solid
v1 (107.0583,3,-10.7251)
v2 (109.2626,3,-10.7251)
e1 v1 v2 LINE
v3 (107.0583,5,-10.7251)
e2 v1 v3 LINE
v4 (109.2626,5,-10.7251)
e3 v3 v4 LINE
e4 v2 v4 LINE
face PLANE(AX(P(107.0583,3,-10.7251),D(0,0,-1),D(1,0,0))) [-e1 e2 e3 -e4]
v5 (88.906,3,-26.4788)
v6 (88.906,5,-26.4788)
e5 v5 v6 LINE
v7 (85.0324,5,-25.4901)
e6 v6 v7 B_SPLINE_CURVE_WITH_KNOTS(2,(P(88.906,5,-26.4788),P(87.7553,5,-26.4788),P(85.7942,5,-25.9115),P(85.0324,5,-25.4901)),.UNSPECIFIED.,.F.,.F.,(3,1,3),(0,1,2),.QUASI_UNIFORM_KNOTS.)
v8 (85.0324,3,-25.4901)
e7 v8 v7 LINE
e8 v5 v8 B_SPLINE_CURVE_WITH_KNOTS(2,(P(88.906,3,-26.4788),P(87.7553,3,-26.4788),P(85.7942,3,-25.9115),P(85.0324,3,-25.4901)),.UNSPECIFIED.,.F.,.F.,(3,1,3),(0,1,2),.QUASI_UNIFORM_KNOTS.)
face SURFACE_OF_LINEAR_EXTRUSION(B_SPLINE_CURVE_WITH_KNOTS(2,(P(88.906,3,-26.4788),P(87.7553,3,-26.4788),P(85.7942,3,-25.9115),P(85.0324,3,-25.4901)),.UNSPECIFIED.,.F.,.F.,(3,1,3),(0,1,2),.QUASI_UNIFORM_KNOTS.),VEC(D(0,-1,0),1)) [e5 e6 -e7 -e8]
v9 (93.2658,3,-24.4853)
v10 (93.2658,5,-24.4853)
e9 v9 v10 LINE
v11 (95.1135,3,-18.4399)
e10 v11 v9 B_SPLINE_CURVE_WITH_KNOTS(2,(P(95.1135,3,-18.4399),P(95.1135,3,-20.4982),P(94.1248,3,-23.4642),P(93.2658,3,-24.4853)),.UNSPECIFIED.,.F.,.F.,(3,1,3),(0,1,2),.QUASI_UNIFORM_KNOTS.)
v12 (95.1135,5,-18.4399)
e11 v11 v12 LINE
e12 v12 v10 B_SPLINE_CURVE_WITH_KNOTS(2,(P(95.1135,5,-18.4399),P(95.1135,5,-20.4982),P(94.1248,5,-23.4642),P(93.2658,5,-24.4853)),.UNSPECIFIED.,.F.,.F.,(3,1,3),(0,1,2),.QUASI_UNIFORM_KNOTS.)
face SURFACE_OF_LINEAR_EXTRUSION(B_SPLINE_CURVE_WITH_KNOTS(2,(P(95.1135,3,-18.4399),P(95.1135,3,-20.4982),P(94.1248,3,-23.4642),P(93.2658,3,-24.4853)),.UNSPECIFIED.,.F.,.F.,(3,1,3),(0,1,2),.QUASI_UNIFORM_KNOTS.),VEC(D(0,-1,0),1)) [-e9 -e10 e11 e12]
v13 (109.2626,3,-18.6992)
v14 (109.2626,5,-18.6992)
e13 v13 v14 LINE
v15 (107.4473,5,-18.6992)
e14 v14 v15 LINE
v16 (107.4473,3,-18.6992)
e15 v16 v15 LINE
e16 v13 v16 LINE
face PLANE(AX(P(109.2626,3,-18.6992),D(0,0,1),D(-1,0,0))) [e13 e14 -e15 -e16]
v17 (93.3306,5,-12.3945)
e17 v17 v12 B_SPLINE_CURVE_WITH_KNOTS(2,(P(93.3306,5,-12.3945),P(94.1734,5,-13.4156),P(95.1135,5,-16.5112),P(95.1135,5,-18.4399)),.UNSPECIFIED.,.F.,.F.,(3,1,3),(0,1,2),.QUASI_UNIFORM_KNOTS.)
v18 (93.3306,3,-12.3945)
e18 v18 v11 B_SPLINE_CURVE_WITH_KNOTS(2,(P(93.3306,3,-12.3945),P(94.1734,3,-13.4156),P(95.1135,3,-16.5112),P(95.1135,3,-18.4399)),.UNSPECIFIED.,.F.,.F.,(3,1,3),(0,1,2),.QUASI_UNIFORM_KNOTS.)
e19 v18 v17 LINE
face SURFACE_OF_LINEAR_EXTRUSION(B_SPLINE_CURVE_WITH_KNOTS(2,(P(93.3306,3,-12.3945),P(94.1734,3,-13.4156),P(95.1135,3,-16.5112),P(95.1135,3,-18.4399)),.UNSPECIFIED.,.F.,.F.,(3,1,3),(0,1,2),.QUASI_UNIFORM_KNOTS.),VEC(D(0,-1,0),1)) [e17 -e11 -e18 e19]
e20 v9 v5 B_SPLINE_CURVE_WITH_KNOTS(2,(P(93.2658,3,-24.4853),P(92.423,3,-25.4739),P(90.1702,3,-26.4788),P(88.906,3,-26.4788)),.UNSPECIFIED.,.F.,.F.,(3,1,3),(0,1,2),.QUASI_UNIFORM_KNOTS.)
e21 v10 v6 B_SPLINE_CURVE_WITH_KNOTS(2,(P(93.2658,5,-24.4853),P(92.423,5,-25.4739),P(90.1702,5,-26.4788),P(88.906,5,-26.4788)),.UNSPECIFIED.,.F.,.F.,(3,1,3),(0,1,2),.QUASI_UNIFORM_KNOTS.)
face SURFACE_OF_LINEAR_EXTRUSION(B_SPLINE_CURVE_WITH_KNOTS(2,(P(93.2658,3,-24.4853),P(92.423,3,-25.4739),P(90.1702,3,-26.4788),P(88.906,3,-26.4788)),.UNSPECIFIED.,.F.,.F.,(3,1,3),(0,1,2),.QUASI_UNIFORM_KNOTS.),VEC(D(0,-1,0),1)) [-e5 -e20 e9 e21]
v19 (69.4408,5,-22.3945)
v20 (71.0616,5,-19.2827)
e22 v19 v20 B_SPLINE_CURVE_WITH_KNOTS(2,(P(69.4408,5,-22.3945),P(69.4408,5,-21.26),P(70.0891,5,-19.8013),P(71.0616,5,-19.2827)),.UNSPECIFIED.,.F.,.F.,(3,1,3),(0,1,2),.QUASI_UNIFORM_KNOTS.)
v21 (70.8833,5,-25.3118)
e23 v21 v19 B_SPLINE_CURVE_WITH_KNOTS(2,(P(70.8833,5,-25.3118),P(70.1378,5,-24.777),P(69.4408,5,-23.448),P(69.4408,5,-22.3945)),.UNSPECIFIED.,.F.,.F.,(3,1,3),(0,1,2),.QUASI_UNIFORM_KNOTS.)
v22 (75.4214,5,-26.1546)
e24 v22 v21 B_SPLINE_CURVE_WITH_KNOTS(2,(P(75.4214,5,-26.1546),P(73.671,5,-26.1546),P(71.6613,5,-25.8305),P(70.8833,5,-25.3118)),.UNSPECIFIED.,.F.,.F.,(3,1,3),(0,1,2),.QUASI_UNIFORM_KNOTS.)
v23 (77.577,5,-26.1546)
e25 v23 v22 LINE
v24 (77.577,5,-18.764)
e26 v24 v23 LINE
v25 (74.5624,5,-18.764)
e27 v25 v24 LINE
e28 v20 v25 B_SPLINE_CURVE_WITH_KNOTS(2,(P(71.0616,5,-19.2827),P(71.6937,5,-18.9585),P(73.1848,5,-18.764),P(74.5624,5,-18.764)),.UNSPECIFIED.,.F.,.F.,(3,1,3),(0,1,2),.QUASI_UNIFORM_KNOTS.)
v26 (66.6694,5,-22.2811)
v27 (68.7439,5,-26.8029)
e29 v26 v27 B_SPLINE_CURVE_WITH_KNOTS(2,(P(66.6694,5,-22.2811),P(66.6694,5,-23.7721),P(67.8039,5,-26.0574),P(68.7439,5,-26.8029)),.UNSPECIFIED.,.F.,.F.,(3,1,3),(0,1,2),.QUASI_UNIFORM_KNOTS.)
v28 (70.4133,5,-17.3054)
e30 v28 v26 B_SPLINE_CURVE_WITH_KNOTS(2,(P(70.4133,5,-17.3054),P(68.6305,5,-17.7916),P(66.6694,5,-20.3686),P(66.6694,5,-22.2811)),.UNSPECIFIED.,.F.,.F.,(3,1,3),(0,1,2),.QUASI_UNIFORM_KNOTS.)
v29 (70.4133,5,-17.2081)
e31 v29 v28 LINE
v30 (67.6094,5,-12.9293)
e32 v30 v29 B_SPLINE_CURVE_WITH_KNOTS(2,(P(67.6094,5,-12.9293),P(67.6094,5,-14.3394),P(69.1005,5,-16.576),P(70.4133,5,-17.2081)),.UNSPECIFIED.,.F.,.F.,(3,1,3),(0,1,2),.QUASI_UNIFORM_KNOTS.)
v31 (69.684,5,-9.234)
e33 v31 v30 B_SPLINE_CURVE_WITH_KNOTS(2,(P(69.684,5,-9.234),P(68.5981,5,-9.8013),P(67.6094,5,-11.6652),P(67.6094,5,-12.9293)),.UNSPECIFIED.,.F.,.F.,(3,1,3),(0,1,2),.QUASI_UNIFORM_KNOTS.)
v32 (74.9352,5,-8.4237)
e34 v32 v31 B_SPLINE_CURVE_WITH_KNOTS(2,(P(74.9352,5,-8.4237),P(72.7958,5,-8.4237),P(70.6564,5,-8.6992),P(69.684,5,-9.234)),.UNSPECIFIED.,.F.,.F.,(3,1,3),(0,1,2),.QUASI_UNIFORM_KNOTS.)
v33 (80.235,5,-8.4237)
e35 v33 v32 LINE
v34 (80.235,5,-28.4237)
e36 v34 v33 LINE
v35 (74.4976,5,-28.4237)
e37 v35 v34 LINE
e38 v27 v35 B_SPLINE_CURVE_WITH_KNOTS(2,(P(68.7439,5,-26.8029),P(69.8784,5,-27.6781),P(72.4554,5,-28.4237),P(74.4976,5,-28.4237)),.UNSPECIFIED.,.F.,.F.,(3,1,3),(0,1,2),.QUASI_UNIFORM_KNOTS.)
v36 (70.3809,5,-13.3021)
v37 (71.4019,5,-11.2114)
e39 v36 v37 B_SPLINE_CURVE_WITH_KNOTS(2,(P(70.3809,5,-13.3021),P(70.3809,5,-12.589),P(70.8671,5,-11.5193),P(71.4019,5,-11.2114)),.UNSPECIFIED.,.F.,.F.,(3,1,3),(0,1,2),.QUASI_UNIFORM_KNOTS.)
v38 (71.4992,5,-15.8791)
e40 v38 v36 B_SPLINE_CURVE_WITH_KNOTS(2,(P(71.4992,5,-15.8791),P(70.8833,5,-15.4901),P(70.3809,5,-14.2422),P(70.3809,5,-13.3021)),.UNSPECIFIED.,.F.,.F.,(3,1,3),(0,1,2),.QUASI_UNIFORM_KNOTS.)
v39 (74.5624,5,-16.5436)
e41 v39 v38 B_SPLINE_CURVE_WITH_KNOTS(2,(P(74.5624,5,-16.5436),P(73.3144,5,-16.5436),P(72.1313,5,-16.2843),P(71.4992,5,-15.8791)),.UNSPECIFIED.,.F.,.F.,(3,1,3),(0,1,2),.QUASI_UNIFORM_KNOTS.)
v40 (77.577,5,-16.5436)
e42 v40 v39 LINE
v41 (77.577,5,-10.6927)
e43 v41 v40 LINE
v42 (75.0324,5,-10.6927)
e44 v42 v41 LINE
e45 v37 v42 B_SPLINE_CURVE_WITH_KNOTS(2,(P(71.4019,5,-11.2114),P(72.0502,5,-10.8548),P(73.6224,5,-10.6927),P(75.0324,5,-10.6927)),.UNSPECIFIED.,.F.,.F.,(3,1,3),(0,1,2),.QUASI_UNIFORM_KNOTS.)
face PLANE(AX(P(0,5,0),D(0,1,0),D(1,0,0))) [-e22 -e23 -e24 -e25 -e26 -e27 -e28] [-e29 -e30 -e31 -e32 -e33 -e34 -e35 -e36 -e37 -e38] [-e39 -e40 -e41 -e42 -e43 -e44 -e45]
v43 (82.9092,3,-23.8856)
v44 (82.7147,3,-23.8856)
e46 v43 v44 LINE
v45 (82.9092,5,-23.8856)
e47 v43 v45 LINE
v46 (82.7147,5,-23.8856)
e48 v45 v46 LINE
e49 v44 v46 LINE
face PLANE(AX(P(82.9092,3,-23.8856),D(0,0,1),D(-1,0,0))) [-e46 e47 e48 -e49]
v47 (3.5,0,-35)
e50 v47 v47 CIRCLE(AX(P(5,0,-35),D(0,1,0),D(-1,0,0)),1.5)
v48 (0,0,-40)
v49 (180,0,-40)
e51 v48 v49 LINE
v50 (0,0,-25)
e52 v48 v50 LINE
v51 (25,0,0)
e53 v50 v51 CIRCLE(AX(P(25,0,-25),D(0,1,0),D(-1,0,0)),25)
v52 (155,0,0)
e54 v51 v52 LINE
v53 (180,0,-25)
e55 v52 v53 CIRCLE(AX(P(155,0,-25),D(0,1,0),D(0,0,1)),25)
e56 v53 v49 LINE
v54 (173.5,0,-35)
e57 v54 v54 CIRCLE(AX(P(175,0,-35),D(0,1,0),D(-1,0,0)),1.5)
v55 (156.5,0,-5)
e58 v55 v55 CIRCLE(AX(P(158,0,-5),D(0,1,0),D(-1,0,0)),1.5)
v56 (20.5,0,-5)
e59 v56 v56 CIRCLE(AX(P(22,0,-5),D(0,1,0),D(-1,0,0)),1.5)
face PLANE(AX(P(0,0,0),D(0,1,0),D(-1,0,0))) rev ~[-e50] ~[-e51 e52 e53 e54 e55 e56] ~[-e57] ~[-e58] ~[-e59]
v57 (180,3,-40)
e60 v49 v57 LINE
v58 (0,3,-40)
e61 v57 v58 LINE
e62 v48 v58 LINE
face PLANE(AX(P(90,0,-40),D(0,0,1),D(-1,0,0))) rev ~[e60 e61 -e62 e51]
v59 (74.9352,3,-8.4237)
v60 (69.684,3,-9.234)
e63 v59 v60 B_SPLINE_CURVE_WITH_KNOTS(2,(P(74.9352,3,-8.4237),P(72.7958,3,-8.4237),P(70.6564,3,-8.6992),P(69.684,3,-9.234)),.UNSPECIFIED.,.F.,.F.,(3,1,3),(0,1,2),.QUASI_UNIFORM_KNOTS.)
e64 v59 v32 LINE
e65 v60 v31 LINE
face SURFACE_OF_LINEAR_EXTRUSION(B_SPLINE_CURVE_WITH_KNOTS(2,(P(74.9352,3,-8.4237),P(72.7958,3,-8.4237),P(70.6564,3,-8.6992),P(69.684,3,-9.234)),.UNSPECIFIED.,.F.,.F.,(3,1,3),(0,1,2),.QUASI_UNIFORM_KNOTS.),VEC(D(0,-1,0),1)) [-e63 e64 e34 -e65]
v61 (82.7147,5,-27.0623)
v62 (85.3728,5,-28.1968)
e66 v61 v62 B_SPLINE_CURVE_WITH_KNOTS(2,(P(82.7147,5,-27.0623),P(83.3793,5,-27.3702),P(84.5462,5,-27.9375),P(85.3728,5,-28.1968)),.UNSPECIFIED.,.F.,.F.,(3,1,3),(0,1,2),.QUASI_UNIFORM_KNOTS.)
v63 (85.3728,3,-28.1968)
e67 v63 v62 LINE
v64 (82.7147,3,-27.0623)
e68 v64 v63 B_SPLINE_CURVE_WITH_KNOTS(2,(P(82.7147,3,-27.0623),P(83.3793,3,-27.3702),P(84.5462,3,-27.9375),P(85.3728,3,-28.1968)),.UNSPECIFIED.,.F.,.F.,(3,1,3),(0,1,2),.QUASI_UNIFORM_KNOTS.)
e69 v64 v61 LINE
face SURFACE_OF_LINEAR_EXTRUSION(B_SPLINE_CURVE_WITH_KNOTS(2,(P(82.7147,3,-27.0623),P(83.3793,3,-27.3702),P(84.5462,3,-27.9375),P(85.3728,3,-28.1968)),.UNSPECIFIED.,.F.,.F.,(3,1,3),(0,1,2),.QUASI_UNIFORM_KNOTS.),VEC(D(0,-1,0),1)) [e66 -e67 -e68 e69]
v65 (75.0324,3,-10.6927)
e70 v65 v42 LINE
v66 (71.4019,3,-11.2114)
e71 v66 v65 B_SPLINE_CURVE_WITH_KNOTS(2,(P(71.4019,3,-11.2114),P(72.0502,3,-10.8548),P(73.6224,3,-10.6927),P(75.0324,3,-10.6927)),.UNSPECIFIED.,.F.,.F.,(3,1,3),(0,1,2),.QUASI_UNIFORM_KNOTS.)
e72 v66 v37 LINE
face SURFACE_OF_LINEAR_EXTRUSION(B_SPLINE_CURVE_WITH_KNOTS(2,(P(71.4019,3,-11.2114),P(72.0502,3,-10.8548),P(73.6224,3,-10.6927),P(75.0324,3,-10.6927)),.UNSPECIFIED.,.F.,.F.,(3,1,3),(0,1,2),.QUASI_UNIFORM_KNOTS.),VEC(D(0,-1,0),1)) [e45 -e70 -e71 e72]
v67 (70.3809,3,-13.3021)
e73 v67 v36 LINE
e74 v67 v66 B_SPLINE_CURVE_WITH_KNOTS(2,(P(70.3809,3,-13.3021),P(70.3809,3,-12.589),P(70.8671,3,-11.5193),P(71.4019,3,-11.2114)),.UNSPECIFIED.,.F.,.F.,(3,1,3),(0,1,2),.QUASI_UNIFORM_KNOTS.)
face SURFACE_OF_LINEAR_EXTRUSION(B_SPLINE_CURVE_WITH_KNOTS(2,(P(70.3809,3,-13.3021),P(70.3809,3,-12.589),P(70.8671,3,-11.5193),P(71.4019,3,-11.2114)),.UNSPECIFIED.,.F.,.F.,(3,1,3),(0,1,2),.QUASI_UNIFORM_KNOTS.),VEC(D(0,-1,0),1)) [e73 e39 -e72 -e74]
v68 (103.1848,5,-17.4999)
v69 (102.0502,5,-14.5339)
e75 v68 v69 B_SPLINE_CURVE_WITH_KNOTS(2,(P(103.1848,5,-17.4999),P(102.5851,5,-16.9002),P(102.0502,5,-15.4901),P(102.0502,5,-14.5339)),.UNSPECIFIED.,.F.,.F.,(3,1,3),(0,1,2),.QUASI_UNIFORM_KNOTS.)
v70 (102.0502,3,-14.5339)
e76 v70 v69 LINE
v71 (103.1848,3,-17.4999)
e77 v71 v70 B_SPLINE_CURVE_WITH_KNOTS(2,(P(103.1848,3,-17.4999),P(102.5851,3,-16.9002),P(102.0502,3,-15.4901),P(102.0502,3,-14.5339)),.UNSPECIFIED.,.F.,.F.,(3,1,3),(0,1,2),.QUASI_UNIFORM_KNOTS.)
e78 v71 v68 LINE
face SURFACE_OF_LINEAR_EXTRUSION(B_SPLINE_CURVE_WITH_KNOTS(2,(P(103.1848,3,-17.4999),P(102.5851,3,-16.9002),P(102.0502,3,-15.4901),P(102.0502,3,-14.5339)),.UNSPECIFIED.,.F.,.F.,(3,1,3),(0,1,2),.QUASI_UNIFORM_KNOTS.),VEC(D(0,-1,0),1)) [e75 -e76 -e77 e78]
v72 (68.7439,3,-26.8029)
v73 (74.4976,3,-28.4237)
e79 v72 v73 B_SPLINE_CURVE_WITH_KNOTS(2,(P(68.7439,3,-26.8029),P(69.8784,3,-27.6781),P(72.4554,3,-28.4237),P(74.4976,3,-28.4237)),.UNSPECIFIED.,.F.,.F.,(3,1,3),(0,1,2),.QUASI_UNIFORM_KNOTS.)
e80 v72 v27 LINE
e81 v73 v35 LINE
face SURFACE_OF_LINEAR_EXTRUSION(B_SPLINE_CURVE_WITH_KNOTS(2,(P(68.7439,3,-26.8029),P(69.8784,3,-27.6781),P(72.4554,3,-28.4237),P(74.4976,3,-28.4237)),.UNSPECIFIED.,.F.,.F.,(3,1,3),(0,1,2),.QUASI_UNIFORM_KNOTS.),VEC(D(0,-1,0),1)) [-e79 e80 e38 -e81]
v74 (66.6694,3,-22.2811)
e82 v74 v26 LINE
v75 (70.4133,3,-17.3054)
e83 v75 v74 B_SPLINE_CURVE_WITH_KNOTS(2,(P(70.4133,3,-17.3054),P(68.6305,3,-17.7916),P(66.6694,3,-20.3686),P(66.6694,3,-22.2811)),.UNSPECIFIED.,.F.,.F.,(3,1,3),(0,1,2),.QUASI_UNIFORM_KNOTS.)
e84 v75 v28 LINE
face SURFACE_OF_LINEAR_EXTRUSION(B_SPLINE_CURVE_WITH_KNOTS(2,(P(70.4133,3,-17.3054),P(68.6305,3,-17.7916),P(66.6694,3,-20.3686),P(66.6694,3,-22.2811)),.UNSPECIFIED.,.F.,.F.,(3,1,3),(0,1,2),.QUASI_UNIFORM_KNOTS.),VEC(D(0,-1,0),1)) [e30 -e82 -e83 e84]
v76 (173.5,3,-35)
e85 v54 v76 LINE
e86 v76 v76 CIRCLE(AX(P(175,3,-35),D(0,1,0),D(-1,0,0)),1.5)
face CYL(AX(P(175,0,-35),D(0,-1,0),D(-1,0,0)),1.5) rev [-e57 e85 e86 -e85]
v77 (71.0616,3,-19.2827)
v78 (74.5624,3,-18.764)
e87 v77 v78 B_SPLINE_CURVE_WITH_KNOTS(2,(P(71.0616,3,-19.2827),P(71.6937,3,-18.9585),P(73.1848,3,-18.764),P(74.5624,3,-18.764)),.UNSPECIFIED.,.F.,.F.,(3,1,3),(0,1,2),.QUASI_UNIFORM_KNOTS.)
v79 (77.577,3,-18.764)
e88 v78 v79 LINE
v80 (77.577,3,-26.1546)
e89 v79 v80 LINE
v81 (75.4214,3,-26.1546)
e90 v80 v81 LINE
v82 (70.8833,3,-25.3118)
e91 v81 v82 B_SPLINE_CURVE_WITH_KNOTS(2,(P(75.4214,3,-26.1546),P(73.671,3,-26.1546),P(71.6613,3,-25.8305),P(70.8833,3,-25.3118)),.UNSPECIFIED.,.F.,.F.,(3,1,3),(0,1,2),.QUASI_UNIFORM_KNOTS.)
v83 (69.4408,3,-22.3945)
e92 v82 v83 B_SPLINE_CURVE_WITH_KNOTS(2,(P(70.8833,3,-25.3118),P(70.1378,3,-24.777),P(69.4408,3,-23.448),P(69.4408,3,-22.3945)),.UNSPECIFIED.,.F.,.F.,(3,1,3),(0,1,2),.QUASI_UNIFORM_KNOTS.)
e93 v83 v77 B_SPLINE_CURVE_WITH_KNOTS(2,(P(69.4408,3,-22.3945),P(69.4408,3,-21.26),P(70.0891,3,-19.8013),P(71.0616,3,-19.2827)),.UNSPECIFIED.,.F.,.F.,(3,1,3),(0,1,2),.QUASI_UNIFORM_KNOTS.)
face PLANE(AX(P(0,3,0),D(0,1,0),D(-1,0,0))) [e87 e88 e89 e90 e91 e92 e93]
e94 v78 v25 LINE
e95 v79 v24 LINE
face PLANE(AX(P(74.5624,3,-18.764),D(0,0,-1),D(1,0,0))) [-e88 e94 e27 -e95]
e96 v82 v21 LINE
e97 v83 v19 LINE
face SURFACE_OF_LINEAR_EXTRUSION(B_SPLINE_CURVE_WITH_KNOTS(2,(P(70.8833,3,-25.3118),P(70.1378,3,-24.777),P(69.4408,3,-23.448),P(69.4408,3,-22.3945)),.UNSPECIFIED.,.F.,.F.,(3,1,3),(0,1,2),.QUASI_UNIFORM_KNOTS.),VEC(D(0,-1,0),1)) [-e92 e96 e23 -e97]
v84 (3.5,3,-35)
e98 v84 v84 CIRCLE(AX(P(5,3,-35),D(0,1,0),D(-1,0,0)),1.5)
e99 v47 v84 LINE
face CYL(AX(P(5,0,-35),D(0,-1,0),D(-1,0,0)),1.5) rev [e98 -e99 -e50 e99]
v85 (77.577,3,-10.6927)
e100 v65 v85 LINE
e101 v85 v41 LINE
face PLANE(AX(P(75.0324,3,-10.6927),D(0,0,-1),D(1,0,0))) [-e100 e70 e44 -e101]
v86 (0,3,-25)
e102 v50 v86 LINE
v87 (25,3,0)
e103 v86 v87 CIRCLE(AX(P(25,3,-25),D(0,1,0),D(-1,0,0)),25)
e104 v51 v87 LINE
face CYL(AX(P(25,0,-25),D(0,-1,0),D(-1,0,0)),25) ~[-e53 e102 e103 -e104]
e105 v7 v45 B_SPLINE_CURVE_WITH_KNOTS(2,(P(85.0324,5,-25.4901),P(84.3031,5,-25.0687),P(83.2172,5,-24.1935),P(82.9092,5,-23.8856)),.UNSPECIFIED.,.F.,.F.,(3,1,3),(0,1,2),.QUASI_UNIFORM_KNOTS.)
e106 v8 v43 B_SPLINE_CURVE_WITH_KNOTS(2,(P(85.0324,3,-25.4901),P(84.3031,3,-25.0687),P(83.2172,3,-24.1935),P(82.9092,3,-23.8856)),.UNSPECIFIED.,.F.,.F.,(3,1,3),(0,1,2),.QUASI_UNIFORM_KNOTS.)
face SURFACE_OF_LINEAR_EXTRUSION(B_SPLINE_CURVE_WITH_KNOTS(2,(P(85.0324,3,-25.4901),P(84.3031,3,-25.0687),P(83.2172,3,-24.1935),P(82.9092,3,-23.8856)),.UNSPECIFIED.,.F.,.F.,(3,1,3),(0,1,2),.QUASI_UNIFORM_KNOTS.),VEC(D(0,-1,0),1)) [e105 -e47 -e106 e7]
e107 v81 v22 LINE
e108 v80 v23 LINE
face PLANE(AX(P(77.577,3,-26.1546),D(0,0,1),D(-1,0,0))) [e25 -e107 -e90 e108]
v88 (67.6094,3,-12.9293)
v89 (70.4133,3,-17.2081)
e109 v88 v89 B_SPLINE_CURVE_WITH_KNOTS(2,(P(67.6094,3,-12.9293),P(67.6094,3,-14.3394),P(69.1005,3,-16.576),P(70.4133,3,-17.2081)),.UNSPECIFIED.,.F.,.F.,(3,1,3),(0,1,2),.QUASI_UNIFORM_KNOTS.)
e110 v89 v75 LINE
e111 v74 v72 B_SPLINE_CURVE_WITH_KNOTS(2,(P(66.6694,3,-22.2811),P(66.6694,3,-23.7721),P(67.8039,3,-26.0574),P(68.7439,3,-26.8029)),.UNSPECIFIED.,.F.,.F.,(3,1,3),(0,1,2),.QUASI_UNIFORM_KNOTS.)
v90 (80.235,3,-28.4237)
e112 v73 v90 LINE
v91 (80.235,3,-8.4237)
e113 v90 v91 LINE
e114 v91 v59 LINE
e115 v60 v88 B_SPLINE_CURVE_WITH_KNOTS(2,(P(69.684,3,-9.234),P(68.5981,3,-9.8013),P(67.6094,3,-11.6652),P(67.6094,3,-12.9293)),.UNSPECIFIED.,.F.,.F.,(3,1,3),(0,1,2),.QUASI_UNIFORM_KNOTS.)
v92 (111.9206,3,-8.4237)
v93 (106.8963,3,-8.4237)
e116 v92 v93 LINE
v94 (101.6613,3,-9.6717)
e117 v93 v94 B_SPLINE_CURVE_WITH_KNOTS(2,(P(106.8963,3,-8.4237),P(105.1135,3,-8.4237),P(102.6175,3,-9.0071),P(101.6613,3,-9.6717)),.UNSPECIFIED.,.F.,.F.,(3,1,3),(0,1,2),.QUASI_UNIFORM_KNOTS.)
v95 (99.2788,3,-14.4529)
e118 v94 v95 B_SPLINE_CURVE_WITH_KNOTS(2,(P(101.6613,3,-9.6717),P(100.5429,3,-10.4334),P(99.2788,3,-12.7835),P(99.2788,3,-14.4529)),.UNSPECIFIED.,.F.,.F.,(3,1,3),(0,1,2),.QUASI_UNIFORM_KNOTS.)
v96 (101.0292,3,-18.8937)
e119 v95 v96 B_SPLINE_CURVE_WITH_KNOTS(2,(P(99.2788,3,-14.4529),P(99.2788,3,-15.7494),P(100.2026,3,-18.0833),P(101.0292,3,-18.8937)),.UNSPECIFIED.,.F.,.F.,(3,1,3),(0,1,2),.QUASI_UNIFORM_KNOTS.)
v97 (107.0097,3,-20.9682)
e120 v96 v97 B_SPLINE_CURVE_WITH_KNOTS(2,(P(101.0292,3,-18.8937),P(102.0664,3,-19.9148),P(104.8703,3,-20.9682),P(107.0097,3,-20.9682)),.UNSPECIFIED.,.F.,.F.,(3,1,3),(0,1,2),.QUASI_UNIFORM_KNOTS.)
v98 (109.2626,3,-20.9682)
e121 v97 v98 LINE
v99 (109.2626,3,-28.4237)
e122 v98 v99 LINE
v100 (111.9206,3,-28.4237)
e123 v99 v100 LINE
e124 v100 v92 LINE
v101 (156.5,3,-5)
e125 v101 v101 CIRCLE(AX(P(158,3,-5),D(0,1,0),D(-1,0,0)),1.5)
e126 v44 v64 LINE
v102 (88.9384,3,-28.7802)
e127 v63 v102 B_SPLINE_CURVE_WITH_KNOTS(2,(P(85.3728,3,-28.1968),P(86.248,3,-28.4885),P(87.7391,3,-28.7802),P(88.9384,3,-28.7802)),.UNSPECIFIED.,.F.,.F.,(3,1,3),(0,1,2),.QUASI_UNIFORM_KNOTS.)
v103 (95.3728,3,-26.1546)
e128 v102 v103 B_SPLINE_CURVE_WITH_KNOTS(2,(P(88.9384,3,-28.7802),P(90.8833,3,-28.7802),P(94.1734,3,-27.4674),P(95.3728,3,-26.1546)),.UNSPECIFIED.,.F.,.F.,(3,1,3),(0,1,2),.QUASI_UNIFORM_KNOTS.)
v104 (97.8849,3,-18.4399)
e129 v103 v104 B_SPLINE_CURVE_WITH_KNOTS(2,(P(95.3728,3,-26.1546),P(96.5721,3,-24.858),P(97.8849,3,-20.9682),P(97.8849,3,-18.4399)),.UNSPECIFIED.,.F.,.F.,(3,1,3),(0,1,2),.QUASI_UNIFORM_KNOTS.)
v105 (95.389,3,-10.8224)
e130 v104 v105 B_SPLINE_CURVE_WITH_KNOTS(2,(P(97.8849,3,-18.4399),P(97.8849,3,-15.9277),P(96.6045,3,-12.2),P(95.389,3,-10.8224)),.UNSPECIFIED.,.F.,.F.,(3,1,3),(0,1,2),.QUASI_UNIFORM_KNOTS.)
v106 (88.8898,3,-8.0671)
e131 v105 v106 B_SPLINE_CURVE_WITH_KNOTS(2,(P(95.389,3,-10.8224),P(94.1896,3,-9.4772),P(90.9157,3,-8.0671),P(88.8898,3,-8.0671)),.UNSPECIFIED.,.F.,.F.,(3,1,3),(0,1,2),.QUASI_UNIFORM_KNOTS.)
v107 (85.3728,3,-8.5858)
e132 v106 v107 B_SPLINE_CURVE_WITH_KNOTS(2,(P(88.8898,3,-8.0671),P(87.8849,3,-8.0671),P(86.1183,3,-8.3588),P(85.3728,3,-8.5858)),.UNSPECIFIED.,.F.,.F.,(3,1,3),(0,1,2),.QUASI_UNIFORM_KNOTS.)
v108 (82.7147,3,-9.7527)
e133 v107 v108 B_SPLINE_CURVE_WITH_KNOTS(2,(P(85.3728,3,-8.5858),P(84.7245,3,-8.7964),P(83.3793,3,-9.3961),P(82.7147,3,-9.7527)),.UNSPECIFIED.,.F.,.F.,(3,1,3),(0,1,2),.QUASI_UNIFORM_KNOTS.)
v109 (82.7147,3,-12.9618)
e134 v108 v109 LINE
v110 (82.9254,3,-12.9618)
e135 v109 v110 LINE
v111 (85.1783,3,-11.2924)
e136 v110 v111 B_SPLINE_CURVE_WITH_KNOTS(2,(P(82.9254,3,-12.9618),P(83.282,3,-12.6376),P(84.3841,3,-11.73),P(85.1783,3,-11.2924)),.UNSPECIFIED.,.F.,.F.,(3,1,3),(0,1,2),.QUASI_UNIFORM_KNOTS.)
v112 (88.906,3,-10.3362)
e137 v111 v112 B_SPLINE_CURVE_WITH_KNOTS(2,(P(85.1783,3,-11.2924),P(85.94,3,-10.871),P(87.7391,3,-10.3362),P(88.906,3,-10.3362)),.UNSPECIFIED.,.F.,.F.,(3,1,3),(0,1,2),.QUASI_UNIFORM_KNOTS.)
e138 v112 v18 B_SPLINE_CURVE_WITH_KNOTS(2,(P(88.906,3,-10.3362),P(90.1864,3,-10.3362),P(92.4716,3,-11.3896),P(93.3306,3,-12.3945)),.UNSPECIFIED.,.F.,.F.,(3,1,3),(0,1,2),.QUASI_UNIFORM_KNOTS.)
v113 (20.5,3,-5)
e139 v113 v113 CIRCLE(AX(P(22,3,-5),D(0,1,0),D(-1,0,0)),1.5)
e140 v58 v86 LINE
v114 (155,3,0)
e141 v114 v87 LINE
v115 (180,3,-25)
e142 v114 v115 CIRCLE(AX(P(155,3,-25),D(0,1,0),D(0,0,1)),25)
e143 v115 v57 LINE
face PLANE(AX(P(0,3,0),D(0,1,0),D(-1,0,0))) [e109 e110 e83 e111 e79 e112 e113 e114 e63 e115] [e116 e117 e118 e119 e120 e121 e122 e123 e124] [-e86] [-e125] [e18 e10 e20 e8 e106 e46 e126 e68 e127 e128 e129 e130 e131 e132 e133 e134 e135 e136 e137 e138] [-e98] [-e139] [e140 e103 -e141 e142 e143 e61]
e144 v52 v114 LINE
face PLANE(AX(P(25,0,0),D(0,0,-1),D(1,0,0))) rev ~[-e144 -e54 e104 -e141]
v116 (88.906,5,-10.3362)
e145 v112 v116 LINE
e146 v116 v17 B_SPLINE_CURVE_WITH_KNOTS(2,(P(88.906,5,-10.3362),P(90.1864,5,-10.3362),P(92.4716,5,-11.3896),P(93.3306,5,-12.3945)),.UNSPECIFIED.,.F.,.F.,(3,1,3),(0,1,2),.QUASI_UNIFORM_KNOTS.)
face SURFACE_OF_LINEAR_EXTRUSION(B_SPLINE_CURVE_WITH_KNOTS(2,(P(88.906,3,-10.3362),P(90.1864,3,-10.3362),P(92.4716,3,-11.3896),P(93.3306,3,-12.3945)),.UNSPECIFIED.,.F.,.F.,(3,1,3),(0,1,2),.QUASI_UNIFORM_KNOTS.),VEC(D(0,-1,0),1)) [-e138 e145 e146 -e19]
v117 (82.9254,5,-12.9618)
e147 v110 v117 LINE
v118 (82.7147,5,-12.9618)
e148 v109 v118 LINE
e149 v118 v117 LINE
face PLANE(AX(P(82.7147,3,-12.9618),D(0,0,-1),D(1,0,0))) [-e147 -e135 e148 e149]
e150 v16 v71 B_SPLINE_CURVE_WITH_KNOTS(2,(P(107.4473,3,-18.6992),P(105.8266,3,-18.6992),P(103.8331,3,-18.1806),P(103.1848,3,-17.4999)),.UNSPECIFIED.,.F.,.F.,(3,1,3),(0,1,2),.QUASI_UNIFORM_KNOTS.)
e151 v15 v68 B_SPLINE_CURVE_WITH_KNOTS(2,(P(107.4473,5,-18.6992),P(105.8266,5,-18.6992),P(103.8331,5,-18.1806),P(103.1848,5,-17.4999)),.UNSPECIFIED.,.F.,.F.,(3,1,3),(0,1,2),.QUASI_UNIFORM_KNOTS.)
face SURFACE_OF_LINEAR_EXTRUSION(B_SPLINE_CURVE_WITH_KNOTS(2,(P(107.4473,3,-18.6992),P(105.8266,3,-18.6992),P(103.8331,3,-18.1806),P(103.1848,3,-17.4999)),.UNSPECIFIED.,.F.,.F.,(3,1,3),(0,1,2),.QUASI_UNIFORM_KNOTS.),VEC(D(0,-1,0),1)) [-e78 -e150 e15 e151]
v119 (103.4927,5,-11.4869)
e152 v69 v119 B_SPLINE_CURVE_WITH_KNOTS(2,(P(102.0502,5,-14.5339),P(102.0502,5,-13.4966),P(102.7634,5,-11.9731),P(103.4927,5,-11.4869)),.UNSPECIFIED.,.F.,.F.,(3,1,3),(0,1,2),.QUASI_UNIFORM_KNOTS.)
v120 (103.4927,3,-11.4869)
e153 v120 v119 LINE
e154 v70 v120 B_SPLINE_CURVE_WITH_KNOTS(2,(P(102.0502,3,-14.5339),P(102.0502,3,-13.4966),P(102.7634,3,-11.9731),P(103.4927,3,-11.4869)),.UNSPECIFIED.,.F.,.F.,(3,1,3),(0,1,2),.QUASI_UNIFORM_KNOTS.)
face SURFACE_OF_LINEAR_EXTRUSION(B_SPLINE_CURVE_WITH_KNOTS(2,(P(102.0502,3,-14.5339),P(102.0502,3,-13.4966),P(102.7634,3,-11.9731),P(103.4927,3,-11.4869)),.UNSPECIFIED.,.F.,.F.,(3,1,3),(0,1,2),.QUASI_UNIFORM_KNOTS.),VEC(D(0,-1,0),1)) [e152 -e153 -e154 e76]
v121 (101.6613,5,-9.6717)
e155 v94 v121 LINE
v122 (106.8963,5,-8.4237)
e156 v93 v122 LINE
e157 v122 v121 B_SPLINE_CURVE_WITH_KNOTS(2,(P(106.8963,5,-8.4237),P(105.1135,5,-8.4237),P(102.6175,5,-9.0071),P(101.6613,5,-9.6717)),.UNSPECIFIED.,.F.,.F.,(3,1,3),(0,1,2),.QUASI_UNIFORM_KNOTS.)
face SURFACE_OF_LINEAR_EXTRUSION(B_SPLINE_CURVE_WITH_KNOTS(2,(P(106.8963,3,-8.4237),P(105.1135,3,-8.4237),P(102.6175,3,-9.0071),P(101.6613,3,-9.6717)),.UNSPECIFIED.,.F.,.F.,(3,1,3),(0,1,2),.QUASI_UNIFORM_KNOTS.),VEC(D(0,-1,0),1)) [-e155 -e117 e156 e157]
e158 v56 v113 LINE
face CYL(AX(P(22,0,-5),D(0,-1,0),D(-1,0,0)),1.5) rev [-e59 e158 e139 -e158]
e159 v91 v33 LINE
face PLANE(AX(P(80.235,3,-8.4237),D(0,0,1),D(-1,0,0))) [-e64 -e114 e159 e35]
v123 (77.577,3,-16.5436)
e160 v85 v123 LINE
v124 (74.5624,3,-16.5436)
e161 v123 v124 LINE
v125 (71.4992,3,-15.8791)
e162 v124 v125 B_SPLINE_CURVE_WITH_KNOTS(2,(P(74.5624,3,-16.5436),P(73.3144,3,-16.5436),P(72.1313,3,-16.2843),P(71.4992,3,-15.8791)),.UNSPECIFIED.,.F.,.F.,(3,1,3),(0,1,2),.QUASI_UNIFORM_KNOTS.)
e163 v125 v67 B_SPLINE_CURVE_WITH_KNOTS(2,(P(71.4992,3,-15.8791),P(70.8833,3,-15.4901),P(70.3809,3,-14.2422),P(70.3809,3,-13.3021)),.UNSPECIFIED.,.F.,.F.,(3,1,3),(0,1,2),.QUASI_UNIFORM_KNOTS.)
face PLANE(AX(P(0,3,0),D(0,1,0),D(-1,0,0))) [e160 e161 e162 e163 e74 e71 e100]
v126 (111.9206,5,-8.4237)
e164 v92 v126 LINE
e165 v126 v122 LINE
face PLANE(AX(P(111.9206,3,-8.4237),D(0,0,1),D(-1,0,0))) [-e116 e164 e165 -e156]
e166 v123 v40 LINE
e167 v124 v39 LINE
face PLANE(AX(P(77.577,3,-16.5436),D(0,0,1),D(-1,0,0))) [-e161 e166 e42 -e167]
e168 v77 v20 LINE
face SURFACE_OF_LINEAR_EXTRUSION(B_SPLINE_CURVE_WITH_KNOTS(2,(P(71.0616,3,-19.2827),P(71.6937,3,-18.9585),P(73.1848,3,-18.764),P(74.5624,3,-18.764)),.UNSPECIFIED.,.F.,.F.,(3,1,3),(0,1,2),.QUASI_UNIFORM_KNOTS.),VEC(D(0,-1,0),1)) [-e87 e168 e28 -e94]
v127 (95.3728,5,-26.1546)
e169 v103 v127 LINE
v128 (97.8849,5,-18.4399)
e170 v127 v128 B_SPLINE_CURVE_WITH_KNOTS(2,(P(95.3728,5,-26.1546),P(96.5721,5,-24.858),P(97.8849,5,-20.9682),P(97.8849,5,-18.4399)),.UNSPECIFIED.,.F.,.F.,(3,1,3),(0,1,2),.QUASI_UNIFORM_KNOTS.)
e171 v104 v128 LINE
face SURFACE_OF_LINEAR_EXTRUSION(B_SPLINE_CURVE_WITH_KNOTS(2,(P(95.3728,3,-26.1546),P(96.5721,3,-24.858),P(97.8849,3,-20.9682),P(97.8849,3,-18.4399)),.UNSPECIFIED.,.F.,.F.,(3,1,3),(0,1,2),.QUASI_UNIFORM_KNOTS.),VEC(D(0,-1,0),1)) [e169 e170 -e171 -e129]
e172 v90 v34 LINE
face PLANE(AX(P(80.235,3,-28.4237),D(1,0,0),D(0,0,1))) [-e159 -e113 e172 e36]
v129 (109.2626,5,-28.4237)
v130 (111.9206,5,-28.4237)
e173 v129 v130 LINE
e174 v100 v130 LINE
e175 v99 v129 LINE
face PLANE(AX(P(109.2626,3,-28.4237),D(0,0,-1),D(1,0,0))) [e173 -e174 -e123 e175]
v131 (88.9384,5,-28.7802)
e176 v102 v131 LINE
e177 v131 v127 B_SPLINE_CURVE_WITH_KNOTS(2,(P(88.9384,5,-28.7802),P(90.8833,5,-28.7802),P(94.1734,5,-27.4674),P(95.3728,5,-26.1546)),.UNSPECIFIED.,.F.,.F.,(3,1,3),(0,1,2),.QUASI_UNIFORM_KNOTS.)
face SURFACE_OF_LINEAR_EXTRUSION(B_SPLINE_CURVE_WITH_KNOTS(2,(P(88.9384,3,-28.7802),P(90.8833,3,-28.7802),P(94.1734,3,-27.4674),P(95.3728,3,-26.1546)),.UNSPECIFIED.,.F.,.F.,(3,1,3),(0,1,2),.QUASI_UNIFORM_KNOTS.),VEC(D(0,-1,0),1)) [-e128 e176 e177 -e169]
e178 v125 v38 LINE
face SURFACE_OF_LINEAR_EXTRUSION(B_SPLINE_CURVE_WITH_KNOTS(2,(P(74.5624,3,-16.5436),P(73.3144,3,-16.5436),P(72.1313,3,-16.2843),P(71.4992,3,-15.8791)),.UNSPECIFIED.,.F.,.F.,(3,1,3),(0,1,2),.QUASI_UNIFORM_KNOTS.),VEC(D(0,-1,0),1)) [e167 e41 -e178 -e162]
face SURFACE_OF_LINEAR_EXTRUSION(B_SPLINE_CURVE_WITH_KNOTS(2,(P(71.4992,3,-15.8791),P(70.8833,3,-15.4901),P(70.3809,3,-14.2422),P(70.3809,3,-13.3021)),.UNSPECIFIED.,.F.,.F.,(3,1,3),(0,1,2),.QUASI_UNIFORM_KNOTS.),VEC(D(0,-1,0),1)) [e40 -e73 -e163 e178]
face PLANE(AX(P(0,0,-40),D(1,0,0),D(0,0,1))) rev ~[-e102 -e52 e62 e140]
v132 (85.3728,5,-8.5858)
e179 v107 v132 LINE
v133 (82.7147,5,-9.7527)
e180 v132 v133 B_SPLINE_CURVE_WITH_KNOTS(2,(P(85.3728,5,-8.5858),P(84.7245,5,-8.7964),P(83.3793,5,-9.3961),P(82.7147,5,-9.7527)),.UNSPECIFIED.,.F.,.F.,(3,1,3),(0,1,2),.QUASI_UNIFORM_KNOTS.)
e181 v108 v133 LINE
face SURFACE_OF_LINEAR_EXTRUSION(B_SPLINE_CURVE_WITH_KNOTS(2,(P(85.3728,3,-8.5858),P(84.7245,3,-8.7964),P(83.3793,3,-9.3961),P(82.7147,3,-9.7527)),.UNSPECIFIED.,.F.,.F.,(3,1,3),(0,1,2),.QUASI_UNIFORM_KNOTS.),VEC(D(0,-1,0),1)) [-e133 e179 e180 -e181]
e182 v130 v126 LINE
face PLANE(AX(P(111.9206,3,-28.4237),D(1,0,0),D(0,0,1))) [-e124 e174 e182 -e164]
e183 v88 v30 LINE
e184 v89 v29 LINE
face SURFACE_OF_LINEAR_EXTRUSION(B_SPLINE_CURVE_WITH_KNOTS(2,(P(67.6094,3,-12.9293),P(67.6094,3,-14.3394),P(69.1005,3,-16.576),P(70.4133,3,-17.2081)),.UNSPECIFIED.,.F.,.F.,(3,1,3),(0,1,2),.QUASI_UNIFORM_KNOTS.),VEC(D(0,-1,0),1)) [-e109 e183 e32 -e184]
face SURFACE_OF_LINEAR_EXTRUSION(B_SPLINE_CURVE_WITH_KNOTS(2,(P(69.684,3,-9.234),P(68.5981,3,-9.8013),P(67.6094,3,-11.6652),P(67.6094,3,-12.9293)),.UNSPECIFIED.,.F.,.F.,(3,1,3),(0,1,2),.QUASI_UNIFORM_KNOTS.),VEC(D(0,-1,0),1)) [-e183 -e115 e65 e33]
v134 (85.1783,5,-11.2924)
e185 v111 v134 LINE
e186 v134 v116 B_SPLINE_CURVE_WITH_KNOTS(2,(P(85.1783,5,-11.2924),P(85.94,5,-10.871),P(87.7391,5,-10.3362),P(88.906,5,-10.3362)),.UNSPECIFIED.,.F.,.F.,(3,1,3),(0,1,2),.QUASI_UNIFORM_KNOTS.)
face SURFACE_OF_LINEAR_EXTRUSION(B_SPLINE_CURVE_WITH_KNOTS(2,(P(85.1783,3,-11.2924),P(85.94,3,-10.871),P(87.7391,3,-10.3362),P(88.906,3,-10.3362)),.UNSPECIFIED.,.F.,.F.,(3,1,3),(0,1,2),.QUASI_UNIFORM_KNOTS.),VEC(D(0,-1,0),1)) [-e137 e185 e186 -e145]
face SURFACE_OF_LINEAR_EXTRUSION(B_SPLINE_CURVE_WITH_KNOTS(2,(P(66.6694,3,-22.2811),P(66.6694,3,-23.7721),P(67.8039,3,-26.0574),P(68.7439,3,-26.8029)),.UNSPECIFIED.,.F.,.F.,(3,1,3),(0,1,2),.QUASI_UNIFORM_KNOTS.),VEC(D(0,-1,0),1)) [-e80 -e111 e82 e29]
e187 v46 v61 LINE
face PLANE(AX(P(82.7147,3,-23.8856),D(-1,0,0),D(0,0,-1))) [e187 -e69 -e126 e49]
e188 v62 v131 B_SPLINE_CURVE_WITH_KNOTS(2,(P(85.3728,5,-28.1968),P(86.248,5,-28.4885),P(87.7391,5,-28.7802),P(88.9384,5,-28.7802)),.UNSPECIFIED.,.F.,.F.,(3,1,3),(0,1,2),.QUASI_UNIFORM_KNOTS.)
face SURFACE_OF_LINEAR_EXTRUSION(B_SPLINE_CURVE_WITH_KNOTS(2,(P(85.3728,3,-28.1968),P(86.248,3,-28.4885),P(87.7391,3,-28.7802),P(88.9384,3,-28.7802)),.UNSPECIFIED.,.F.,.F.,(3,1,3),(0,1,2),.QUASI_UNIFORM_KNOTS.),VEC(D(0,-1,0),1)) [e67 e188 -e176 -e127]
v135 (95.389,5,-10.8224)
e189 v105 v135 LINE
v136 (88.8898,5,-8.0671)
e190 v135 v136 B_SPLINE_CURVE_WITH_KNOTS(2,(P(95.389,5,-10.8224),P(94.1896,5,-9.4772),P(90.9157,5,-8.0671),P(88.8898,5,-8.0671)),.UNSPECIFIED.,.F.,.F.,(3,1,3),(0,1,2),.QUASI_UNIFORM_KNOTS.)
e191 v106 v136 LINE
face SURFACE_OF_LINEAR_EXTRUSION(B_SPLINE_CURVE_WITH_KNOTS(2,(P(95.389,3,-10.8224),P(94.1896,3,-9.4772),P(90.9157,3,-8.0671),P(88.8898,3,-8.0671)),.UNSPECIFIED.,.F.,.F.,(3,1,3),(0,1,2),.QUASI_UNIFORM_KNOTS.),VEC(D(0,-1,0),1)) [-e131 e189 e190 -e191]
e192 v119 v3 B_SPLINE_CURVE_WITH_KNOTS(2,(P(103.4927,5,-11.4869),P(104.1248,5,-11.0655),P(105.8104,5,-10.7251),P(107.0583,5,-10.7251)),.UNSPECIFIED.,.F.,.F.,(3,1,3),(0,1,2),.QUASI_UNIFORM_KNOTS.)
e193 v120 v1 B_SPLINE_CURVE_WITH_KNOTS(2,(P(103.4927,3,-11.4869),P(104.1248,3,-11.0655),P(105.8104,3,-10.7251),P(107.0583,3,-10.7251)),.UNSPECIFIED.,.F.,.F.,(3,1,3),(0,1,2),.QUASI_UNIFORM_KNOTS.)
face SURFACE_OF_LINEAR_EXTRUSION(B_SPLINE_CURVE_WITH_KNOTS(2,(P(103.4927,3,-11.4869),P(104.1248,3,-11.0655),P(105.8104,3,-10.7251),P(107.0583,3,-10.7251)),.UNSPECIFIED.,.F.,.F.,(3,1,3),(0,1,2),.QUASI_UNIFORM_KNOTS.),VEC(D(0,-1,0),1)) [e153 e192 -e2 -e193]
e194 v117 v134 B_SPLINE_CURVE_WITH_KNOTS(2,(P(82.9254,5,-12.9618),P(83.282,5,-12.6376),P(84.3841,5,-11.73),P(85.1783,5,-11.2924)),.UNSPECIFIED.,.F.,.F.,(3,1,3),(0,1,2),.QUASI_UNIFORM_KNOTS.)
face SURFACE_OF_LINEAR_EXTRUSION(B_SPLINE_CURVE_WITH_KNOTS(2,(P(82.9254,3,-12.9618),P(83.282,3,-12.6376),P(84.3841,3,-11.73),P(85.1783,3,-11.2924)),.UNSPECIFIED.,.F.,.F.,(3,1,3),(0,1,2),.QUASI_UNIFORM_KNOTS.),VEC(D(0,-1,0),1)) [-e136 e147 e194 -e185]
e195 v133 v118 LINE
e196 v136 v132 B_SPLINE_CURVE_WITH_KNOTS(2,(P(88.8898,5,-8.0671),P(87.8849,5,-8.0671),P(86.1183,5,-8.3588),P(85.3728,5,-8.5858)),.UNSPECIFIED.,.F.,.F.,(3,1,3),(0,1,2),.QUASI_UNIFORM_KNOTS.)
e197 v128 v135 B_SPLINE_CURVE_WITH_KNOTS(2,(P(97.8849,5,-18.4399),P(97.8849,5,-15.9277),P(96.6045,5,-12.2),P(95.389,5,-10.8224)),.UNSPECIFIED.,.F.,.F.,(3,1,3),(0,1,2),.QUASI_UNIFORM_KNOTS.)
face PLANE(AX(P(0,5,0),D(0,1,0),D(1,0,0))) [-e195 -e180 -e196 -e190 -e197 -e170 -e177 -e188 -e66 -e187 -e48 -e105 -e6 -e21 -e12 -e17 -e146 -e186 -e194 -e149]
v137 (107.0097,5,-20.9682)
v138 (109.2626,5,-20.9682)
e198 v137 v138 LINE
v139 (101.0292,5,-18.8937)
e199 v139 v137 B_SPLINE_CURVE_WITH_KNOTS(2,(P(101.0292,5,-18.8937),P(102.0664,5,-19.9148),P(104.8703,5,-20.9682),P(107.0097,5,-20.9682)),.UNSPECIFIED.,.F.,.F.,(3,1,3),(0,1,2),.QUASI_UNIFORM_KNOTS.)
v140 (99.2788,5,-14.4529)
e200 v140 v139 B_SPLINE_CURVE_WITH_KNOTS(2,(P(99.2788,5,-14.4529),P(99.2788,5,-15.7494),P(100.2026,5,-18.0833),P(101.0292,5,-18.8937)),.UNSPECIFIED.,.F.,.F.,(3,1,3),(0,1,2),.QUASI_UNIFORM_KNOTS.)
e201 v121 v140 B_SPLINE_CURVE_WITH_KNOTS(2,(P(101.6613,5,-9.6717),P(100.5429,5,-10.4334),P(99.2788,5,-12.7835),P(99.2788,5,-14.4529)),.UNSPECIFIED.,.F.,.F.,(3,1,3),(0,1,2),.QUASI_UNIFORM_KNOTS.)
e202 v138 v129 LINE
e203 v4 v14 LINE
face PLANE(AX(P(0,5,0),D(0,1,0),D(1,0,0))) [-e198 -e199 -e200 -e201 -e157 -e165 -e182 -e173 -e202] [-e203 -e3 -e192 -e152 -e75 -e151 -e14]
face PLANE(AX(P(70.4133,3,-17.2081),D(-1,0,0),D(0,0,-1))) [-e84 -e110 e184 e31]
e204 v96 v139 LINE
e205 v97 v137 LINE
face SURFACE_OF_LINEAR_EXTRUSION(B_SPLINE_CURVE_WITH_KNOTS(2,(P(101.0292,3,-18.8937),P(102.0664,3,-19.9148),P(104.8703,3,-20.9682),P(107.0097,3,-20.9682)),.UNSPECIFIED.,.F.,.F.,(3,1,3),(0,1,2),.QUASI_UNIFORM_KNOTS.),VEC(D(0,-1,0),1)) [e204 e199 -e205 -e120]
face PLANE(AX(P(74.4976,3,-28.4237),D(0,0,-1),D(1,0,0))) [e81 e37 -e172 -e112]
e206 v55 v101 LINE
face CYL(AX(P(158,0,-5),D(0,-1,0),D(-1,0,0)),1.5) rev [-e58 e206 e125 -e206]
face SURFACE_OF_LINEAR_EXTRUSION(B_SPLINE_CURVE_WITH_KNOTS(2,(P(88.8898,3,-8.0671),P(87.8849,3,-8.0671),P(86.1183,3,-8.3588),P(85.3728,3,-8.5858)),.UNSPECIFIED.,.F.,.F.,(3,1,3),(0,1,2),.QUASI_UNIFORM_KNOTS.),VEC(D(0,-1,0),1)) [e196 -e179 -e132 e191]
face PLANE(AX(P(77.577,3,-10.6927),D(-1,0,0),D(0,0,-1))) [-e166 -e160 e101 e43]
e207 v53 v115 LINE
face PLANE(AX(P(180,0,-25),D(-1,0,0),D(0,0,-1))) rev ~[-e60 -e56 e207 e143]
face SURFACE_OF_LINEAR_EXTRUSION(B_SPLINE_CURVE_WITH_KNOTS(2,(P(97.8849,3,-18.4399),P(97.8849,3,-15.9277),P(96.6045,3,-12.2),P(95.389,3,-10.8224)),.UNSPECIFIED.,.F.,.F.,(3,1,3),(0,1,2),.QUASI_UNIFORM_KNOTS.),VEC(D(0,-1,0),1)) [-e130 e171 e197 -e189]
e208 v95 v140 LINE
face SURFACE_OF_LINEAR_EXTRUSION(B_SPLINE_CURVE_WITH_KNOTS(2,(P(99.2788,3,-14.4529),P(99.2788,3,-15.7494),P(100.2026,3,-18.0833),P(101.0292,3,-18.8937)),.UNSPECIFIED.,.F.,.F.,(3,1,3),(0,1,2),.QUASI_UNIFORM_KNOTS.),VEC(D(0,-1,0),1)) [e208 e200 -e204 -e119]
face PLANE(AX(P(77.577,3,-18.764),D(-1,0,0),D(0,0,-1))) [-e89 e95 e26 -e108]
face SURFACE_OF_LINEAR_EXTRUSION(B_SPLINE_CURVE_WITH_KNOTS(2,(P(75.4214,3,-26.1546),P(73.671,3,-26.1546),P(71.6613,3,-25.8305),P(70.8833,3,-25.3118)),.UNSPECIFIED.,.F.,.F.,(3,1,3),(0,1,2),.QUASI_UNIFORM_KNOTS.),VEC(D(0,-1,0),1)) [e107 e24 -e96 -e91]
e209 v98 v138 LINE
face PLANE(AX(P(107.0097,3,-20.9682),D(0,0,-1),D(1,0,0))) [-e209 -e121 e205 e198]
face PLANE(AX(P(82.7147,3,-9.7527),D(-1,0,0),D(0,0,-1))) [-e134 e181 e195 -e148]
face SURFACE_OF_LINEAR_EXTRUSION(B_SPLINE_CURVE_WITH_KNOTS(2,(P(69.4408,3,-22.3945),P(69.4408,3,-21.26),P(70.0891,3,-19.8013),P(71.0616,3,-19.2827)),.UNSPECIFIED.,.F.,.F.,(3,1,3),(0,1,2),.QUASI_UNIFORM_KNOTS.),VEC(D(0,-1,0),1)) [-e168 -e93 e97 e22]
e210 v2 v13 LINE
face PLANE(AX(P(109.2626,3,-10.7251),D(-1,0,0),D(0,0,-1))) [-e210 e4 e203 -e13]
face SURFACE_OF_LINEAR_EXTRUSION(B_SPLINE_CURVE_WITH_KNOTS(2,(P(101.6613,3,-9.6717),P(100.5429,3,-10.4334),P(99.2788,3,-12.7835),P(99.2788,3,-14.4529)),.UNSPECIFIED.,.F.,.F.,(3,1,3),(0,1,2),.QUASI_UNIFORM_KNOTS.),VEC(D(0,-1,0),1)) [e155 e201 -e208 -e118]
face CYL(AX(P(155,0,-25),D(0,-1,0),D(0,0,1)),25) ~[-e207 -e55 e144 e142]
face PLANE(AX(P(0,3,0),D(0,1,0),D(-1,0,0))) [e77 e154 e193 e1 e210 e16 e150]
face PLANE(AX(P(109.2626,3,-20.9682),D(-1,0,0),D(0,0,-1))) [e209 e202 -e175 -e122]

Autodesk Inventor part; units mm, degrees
ref_plane "YZ Plane" through (0, 0, 0) normal (1, 0, 0) x (0, 1, 0)
ref_plane "XZ Plane" through (0, 0, 0) normal (0, 1, 0) x (-1, 0, 0)
ref_plane "XY Plane" through (0, 0, 0) normal (0, 0, 1) x (1, 0, 0)
sketch "스케치1" plane through (0, 0, 0) normal (0, 1, 0) x (-1, 0, 0)
  line L0 (-25, 0) -> (-155, 0)
  line L1 (-180, -25) -> (-180, -40)
  line L2 (-180, -40) -> (0, -40)
  line L3 (0, -40) -> (0, -25)
  arc A0 (0, -25) -> (-25, 0) centre (-25, -25) ccw
  arc A1 (-155, 0) -> (-180, -25) centre (-155, -25) ccw
  circle A2 centre (-5, -35) radius 1.5
  circle A3 centre (-5, -35) radius 2.5
  circle A4 centre (-5, -22) radius 1.5
  circle A5 centre (-5, -22) radius 2.5
  circle A6 centre (-22, -5) radius 1.5
  circle A7 centre (-22, -5) radius 2.5
  line L4 (-90, -40) -> (-90, 0)
  circle A8 centre (-90, -35) radius 2.5
  circle A9 centre (-90, -5) radius 2.5
  circle A10 centre (-47.5, -35) radius 2.5
  circle A11 centre (-175, -35) radius 1.5
  circle A12 centre (-175, -35) radius 2.5
  circle A13 centre (-175, -22) radius 1.5
  circle A14 centre (-175, -22) radius 2.5
  circle A15 centre (-158, -5) radius 1.5
  circle A16 centre (-158, -5) radius 2.5
  circle A17 centre (-132.5, -35) radius 2.5
  point P0 (0, 0)
  point P1 (-180, 0)
  dimension "d0" = 180
  dimension "d1" = 40
  dimension "d2" = 25
  dimension "d3" = 3
  dimension "d4" = 5
  dimension "d5" = 3
  dimension "d6" = 5
  dimension "d7" = 3
  dimension "d8" = 5
  dimension "d9" = 5
  dimension "d10" = 5
  dimension "d11" = 5
  dimension "d12" = 5
  dimension "d13" = 5
  dimension "d14" = 5
  dimension "d15" = 5
  dimension "d16" = 5
  dimension "d17" = 5
  dimension "d18" = 85
  dimension "d19" = 42.5
  dimension "d20" = 3
  dimension "d21" = 3
extrude "돌출1" add sketch "스케치1" along normal blind 3 contours A0 L3 L2 L4 A8 A9 L0 | L4 A9 A8 L2 L1 A1 L0 | A9 L4 | L4 A9 | A8 L4 | L4 A8 | A3 | A4 | A5 | A7 | A10 | A12 | A13 | A14 | A16 | A17
sketch "스케치2" plane through (0, 3, 0) normal (0, 1, 0) x (1, 0, 0)
  line L0 (113.9465, 8.0671) -> (66.0535, 8.0671) construction
  line L1 (66.0535, 8.0671) -> (66.0535, 31.9329) construction
  line L2 (66.0535, 31.9329) -> (113.9465, 31.9329) construction
  line L3 (113.9465, 31.9329) -> (113.9465, 8.0671) construction
  line L4 (0, 40) -> (0, 25) projected
  line L5 (180, 40) -> (0, 40) projected
  spline S0 degree 2 poles (99.2788, 14.4529) (99.2788, 15.7494) (100.2026, 18.0833) (101.0292, 18.8937) knots 0 0 0 1 2 2 2
  spline S1 degree 2 poles (101.0292, 18.8937) (102.0664, 19.9148) (104.8703, 20.9682) (107.0097, 20.9682) knots 0 0 0 1 2 2 2
  line L6 (107.0097, 20.9682) -> (109.2626, 20.9682)
  line L7 (109.2626, 20.9682) -> (109.2626, 28.4237)
  line L8 (109.2626, 28.4237) -> (111.9206, 28.4237)
  line L9 (111.9206, 28.4237) -> (111.9206, 8.4237)
  line L10 (111.9206, 8.4237) -> (106.8963, 8.4237)
  spline S2 degree 2 poles (106.8963, 8.4237) (105.1135, 8.4237) (102.6175, 9.0071) (101.6613, 9.6717) knots 0 0 0 1 2 2 2
  spline S3 degree 2 poles (101.6613, 9.6717) (100.5429, 10.4334) (99.2788, 12.7835) (99.2788, 14.4529) knots 0 0 0 1 2 2 2
  spline S4 degree 2 poles (102.0502, 14.5339) (102.0502, 13.4966) (102.7634, 11.9731) (103.4927, 11.4869) knots 0 0 0 1 2 2 2
  spline S5 degree 2 poles (103.4927, 11.4869) (104.1248, 11.0655) (105.8104, 10.7251) (107.0583, 10.7251) knots 0 0 0 1 2 2 2
  line L11 (107.0583, 10.7251) -> (109.2626, 10.7251)
  line L12 (109.2626, 10.7251) -> (109.2626, 18.6992)
  line L13 (109.2626, 18.6992) -> (107.4473, 18.6992)
  spline S6 degree 2 poles (107.4473, 18.6992) (105.8266, 18.6992) (103.8331, 18.1806) (103.1848, 17.4999) knots 0 0 0 1 2 2 2
  spline S7 degree 2 poles (103.1848, 17.4999) (102.5851, 16.9002) (102.0502, 15.4901) (102.0502, 14.5339) knots 0 0 0 1 2 2 2
  spline S8 degree 2 poles (88.9384, 28.7802) (90.8833, 28.7802) (94.1734, 27.4674) (95.3728, 26.1546) knots 0 0 0 1 2 2 2
  spline S9 degree 2 poles (95.3728, 26.1546) (96.5721, 24.858) (97.8849, 20.9682) (97.8849, 18.4399) knots 0 0 0 1 2 2 2
  spline S10 degree 2 poles (97.8849, 18.4399) (97.8849, 15.9277) (96.6045, 12.2) (95.389, 10.8224) knots 0 0 0 1 2 2 2
  spline S11 degree 2 poles (95.389, 10.8224) (94.1896, 9.4772) (90.9157, 8.0671) (88.8898, 8.0671) knots 0 0 0 1 2 2 2
  spline S12 degree 2 poles (88.8898, 8.0671) (87.8849, 8.0671) (86.1183, 8.3588) (85.3728, 8.5858) knots 0 0 0 1 2 2 2
  spline S13 degree 2 poles (85.3728, 8.5858) (84.7245, 8.7964) (83.3793, 9.3961) (82.7147, 9.7527) knots 0 0 0 1 2 2 2
  line L14 (82.7147, 9.7527) -> (82.7147, 12.9618)
  line L15 (82.7147, 12.9618) -> (82.9254, 12.9618)
  spline S14 degree 2 poles (82.9254, 12.9618) (83.282, 12.6376) (84.3841, 11.73) (85.1783, 11.2924) knots 0 0 0 1 2 2 2
  spline S15 degree 2 poles (85.1783, 11.2924) (85.94, 10.871) (87.7391, 10.3362) (88.906, 10.3362) knots 0 0 0 1 2 2 2
  spline S16 degree 2 poles (88.906, 10.3362) (90.1864, 10.3362) (92.4716, 11.3896) (93.3306, 12.3945) knots 0 0 0 1 2 2 2
  spline S17 degree 2 poles (93.3306, 12.3945) (94.1734, 13.4156) (95.1135, 16.5112) (95.1135, 18.4399) knots 0 0 0 1 2 2 2
  spline S18 degree 2 poles (95.1135, 18.4399) (95.1135, 20.4982) (94.1248, 23.4642) (93.2658, 24.4853) knots 0 0 0 1 2 2 2
  spline S19 degree 2 poles (93.2658, 24.4853) (92.423, 25.4739) (90.1702, 26.4788) (88.906, 26.4788) knots 0 0 0 1 2 2 2
  spline S20 degree 2 poles (88.906, 26.4788) (87.7553, 26.4788) (85.7942, 25.9115) (85.0324, 25.4901) knots 0 0 0 1 2 2 2
  spline S21 degree 2 poles (85.0324, 25.4901) (84.3031, 25.0687) (83.2172, 24.1935) (82.9092, 23.8856) knots 0 0 0 1 2 2 2
  line L16 (82.9092, 23.8856) -> (82.7147, 23.8856)
  line L17 (82.7147, 23.8856) -> (82.7147, 27.0623)
  spline S22 degree 2 poles (82.7147, 27.0623) (83.3793, 27.3702) (84.5462, 27.9375) (85.3728, 28.1968) knots 0 0 0 1 2 2 2
  spline S23 degree 2 poles (85.3728, 28.1968) (86.248, 28.4885) (87.7391, 28.7802) (88.9384, 28.7802) knots 0 0 0 1 2 2 2
  spline S24 degree 2 poles (66.6694, 22.2811) (66.6694, 23.7721) (67.8039, 26.0574) (68.7439, 26.8029) knots 0 0 0 1 2 2 2
  spline S25 degree 2 poles (68.7439, 26.8029) (69.8784, 27.6781) (72.4554, 28.4237) (74.4976, 28.4237) knots 0 0 0 1 2 2 2
  line L18 (74.4976, 28.4237) -> (80.235, 28.4237)
  line L19 (80.235, 28.4237) -> (80.235, 8.4237)
  line L20 (80.235, 8.4237) -> (74.9352, 8.4237)
  spline S26 degree 2 poles (74.9352, 8.4237) (72.7958, 8.4237) (70.6564, 8.6992) (69.684, 9.234) knots 0 0 0 1 2 2 2
  spline S27 degree 2 poles (69.684, 9.234) (68.5981, 9.8013) (67.6094, 11.6652) (67.6094, 12.9293) knots 0 0 0 1 2 2 2
  spline S28 degree 2 poles (67.6094, 12.9293) (67.6094, 14.3394) (69.1005, 16.576) (70.4133, 17.2081) knots 0 0 0 1 2 2 2
  line L21 (70.4133, 17.2081) -> (70.4133, 17.3054)
  spline S29 degree 2 poles (70.4133, 17.3054) (68.6305, 17.7916) (66.6694, 20.3686) (66.6694, 22.2811) knots 0 0 0 1 2 2 2
  spline S30 degree 2 poles (69.4408, 22.3945) (69.4408, 21.26) (70.0891, 19.8013) (71.0616, 19.2827) knots 0 0 0 1 2 2 2
  spline S31 degree 2 poles (71.0616, 19.2827) (71.6937, 18.9585) (73.1848, 18.764) (74.5624, 18.764) knots 0 0 0 1 2 2 2
  line L22 (74.5624, 18.764) -> (77.577, 18.764)
  line L23 (77.577, 18.764) -> (77.577, 26.1546)
  line L24 (77.577, 26.1546) -> (75.4214, 26.1546)
  spline S32 degree 2 poles (75.4214, 26.1546) (73.671, 26.1546) (71.6613, 25.8305) (70.8833, 25.3118) knots 0 0 0 1 2 2 2
  spline S33 degree 2 poles (70.8833, 25.3118) (70.1378, 24.777) (69.4408, 23.448) (69.4408, 22.3945) knots 0 0 0 1 2 2 2
  spline S34 degree 2 poles (70.3809, 13.3021) (70.3809, 12.589) (70.8671, 11.5193) (71.4019, 11.2114) knots 0 0 0 1 2 2 2
  spline S35 degree 2 poles (71.4019, 11.2114) (72.0502, 10.8548) (73.6224, 10.6927) (75.0324, 10.6927) knots 0 0 0 1 2 2 2
  line L25 (75.0324, 10.6927) -> (77.577, 10.6927)
  line L26 (77.577, 10.6927) -> (77.577, 16.5436)
  line L27 (77.577, 16.5436) -> (74.5624, 16.5436)
  spline S36 degree 2 poles (74.5624, 16.5436) (73.3144, 16.5436) (72.1313, 16.2843) (71.4992, 15.8791) knots 0 0 0 1 2 2 2
  spline S37 degree 2 poles (71.4992, 15.8791) (70.8833, 15.4901) (70.3809, 14.2422) (70.3809, 13.3021) knots 0 0 0 1 2 2 2
  point P0 (0, 0)
  point P1 (90, 8.0671)
  point P2 (66.0535, 20)
  dimension "d24" = 90
  dimension "d25" = 20
extrude "돌출2" add sketch "스케치2" along normal blind 2
properties part number "pcb"
